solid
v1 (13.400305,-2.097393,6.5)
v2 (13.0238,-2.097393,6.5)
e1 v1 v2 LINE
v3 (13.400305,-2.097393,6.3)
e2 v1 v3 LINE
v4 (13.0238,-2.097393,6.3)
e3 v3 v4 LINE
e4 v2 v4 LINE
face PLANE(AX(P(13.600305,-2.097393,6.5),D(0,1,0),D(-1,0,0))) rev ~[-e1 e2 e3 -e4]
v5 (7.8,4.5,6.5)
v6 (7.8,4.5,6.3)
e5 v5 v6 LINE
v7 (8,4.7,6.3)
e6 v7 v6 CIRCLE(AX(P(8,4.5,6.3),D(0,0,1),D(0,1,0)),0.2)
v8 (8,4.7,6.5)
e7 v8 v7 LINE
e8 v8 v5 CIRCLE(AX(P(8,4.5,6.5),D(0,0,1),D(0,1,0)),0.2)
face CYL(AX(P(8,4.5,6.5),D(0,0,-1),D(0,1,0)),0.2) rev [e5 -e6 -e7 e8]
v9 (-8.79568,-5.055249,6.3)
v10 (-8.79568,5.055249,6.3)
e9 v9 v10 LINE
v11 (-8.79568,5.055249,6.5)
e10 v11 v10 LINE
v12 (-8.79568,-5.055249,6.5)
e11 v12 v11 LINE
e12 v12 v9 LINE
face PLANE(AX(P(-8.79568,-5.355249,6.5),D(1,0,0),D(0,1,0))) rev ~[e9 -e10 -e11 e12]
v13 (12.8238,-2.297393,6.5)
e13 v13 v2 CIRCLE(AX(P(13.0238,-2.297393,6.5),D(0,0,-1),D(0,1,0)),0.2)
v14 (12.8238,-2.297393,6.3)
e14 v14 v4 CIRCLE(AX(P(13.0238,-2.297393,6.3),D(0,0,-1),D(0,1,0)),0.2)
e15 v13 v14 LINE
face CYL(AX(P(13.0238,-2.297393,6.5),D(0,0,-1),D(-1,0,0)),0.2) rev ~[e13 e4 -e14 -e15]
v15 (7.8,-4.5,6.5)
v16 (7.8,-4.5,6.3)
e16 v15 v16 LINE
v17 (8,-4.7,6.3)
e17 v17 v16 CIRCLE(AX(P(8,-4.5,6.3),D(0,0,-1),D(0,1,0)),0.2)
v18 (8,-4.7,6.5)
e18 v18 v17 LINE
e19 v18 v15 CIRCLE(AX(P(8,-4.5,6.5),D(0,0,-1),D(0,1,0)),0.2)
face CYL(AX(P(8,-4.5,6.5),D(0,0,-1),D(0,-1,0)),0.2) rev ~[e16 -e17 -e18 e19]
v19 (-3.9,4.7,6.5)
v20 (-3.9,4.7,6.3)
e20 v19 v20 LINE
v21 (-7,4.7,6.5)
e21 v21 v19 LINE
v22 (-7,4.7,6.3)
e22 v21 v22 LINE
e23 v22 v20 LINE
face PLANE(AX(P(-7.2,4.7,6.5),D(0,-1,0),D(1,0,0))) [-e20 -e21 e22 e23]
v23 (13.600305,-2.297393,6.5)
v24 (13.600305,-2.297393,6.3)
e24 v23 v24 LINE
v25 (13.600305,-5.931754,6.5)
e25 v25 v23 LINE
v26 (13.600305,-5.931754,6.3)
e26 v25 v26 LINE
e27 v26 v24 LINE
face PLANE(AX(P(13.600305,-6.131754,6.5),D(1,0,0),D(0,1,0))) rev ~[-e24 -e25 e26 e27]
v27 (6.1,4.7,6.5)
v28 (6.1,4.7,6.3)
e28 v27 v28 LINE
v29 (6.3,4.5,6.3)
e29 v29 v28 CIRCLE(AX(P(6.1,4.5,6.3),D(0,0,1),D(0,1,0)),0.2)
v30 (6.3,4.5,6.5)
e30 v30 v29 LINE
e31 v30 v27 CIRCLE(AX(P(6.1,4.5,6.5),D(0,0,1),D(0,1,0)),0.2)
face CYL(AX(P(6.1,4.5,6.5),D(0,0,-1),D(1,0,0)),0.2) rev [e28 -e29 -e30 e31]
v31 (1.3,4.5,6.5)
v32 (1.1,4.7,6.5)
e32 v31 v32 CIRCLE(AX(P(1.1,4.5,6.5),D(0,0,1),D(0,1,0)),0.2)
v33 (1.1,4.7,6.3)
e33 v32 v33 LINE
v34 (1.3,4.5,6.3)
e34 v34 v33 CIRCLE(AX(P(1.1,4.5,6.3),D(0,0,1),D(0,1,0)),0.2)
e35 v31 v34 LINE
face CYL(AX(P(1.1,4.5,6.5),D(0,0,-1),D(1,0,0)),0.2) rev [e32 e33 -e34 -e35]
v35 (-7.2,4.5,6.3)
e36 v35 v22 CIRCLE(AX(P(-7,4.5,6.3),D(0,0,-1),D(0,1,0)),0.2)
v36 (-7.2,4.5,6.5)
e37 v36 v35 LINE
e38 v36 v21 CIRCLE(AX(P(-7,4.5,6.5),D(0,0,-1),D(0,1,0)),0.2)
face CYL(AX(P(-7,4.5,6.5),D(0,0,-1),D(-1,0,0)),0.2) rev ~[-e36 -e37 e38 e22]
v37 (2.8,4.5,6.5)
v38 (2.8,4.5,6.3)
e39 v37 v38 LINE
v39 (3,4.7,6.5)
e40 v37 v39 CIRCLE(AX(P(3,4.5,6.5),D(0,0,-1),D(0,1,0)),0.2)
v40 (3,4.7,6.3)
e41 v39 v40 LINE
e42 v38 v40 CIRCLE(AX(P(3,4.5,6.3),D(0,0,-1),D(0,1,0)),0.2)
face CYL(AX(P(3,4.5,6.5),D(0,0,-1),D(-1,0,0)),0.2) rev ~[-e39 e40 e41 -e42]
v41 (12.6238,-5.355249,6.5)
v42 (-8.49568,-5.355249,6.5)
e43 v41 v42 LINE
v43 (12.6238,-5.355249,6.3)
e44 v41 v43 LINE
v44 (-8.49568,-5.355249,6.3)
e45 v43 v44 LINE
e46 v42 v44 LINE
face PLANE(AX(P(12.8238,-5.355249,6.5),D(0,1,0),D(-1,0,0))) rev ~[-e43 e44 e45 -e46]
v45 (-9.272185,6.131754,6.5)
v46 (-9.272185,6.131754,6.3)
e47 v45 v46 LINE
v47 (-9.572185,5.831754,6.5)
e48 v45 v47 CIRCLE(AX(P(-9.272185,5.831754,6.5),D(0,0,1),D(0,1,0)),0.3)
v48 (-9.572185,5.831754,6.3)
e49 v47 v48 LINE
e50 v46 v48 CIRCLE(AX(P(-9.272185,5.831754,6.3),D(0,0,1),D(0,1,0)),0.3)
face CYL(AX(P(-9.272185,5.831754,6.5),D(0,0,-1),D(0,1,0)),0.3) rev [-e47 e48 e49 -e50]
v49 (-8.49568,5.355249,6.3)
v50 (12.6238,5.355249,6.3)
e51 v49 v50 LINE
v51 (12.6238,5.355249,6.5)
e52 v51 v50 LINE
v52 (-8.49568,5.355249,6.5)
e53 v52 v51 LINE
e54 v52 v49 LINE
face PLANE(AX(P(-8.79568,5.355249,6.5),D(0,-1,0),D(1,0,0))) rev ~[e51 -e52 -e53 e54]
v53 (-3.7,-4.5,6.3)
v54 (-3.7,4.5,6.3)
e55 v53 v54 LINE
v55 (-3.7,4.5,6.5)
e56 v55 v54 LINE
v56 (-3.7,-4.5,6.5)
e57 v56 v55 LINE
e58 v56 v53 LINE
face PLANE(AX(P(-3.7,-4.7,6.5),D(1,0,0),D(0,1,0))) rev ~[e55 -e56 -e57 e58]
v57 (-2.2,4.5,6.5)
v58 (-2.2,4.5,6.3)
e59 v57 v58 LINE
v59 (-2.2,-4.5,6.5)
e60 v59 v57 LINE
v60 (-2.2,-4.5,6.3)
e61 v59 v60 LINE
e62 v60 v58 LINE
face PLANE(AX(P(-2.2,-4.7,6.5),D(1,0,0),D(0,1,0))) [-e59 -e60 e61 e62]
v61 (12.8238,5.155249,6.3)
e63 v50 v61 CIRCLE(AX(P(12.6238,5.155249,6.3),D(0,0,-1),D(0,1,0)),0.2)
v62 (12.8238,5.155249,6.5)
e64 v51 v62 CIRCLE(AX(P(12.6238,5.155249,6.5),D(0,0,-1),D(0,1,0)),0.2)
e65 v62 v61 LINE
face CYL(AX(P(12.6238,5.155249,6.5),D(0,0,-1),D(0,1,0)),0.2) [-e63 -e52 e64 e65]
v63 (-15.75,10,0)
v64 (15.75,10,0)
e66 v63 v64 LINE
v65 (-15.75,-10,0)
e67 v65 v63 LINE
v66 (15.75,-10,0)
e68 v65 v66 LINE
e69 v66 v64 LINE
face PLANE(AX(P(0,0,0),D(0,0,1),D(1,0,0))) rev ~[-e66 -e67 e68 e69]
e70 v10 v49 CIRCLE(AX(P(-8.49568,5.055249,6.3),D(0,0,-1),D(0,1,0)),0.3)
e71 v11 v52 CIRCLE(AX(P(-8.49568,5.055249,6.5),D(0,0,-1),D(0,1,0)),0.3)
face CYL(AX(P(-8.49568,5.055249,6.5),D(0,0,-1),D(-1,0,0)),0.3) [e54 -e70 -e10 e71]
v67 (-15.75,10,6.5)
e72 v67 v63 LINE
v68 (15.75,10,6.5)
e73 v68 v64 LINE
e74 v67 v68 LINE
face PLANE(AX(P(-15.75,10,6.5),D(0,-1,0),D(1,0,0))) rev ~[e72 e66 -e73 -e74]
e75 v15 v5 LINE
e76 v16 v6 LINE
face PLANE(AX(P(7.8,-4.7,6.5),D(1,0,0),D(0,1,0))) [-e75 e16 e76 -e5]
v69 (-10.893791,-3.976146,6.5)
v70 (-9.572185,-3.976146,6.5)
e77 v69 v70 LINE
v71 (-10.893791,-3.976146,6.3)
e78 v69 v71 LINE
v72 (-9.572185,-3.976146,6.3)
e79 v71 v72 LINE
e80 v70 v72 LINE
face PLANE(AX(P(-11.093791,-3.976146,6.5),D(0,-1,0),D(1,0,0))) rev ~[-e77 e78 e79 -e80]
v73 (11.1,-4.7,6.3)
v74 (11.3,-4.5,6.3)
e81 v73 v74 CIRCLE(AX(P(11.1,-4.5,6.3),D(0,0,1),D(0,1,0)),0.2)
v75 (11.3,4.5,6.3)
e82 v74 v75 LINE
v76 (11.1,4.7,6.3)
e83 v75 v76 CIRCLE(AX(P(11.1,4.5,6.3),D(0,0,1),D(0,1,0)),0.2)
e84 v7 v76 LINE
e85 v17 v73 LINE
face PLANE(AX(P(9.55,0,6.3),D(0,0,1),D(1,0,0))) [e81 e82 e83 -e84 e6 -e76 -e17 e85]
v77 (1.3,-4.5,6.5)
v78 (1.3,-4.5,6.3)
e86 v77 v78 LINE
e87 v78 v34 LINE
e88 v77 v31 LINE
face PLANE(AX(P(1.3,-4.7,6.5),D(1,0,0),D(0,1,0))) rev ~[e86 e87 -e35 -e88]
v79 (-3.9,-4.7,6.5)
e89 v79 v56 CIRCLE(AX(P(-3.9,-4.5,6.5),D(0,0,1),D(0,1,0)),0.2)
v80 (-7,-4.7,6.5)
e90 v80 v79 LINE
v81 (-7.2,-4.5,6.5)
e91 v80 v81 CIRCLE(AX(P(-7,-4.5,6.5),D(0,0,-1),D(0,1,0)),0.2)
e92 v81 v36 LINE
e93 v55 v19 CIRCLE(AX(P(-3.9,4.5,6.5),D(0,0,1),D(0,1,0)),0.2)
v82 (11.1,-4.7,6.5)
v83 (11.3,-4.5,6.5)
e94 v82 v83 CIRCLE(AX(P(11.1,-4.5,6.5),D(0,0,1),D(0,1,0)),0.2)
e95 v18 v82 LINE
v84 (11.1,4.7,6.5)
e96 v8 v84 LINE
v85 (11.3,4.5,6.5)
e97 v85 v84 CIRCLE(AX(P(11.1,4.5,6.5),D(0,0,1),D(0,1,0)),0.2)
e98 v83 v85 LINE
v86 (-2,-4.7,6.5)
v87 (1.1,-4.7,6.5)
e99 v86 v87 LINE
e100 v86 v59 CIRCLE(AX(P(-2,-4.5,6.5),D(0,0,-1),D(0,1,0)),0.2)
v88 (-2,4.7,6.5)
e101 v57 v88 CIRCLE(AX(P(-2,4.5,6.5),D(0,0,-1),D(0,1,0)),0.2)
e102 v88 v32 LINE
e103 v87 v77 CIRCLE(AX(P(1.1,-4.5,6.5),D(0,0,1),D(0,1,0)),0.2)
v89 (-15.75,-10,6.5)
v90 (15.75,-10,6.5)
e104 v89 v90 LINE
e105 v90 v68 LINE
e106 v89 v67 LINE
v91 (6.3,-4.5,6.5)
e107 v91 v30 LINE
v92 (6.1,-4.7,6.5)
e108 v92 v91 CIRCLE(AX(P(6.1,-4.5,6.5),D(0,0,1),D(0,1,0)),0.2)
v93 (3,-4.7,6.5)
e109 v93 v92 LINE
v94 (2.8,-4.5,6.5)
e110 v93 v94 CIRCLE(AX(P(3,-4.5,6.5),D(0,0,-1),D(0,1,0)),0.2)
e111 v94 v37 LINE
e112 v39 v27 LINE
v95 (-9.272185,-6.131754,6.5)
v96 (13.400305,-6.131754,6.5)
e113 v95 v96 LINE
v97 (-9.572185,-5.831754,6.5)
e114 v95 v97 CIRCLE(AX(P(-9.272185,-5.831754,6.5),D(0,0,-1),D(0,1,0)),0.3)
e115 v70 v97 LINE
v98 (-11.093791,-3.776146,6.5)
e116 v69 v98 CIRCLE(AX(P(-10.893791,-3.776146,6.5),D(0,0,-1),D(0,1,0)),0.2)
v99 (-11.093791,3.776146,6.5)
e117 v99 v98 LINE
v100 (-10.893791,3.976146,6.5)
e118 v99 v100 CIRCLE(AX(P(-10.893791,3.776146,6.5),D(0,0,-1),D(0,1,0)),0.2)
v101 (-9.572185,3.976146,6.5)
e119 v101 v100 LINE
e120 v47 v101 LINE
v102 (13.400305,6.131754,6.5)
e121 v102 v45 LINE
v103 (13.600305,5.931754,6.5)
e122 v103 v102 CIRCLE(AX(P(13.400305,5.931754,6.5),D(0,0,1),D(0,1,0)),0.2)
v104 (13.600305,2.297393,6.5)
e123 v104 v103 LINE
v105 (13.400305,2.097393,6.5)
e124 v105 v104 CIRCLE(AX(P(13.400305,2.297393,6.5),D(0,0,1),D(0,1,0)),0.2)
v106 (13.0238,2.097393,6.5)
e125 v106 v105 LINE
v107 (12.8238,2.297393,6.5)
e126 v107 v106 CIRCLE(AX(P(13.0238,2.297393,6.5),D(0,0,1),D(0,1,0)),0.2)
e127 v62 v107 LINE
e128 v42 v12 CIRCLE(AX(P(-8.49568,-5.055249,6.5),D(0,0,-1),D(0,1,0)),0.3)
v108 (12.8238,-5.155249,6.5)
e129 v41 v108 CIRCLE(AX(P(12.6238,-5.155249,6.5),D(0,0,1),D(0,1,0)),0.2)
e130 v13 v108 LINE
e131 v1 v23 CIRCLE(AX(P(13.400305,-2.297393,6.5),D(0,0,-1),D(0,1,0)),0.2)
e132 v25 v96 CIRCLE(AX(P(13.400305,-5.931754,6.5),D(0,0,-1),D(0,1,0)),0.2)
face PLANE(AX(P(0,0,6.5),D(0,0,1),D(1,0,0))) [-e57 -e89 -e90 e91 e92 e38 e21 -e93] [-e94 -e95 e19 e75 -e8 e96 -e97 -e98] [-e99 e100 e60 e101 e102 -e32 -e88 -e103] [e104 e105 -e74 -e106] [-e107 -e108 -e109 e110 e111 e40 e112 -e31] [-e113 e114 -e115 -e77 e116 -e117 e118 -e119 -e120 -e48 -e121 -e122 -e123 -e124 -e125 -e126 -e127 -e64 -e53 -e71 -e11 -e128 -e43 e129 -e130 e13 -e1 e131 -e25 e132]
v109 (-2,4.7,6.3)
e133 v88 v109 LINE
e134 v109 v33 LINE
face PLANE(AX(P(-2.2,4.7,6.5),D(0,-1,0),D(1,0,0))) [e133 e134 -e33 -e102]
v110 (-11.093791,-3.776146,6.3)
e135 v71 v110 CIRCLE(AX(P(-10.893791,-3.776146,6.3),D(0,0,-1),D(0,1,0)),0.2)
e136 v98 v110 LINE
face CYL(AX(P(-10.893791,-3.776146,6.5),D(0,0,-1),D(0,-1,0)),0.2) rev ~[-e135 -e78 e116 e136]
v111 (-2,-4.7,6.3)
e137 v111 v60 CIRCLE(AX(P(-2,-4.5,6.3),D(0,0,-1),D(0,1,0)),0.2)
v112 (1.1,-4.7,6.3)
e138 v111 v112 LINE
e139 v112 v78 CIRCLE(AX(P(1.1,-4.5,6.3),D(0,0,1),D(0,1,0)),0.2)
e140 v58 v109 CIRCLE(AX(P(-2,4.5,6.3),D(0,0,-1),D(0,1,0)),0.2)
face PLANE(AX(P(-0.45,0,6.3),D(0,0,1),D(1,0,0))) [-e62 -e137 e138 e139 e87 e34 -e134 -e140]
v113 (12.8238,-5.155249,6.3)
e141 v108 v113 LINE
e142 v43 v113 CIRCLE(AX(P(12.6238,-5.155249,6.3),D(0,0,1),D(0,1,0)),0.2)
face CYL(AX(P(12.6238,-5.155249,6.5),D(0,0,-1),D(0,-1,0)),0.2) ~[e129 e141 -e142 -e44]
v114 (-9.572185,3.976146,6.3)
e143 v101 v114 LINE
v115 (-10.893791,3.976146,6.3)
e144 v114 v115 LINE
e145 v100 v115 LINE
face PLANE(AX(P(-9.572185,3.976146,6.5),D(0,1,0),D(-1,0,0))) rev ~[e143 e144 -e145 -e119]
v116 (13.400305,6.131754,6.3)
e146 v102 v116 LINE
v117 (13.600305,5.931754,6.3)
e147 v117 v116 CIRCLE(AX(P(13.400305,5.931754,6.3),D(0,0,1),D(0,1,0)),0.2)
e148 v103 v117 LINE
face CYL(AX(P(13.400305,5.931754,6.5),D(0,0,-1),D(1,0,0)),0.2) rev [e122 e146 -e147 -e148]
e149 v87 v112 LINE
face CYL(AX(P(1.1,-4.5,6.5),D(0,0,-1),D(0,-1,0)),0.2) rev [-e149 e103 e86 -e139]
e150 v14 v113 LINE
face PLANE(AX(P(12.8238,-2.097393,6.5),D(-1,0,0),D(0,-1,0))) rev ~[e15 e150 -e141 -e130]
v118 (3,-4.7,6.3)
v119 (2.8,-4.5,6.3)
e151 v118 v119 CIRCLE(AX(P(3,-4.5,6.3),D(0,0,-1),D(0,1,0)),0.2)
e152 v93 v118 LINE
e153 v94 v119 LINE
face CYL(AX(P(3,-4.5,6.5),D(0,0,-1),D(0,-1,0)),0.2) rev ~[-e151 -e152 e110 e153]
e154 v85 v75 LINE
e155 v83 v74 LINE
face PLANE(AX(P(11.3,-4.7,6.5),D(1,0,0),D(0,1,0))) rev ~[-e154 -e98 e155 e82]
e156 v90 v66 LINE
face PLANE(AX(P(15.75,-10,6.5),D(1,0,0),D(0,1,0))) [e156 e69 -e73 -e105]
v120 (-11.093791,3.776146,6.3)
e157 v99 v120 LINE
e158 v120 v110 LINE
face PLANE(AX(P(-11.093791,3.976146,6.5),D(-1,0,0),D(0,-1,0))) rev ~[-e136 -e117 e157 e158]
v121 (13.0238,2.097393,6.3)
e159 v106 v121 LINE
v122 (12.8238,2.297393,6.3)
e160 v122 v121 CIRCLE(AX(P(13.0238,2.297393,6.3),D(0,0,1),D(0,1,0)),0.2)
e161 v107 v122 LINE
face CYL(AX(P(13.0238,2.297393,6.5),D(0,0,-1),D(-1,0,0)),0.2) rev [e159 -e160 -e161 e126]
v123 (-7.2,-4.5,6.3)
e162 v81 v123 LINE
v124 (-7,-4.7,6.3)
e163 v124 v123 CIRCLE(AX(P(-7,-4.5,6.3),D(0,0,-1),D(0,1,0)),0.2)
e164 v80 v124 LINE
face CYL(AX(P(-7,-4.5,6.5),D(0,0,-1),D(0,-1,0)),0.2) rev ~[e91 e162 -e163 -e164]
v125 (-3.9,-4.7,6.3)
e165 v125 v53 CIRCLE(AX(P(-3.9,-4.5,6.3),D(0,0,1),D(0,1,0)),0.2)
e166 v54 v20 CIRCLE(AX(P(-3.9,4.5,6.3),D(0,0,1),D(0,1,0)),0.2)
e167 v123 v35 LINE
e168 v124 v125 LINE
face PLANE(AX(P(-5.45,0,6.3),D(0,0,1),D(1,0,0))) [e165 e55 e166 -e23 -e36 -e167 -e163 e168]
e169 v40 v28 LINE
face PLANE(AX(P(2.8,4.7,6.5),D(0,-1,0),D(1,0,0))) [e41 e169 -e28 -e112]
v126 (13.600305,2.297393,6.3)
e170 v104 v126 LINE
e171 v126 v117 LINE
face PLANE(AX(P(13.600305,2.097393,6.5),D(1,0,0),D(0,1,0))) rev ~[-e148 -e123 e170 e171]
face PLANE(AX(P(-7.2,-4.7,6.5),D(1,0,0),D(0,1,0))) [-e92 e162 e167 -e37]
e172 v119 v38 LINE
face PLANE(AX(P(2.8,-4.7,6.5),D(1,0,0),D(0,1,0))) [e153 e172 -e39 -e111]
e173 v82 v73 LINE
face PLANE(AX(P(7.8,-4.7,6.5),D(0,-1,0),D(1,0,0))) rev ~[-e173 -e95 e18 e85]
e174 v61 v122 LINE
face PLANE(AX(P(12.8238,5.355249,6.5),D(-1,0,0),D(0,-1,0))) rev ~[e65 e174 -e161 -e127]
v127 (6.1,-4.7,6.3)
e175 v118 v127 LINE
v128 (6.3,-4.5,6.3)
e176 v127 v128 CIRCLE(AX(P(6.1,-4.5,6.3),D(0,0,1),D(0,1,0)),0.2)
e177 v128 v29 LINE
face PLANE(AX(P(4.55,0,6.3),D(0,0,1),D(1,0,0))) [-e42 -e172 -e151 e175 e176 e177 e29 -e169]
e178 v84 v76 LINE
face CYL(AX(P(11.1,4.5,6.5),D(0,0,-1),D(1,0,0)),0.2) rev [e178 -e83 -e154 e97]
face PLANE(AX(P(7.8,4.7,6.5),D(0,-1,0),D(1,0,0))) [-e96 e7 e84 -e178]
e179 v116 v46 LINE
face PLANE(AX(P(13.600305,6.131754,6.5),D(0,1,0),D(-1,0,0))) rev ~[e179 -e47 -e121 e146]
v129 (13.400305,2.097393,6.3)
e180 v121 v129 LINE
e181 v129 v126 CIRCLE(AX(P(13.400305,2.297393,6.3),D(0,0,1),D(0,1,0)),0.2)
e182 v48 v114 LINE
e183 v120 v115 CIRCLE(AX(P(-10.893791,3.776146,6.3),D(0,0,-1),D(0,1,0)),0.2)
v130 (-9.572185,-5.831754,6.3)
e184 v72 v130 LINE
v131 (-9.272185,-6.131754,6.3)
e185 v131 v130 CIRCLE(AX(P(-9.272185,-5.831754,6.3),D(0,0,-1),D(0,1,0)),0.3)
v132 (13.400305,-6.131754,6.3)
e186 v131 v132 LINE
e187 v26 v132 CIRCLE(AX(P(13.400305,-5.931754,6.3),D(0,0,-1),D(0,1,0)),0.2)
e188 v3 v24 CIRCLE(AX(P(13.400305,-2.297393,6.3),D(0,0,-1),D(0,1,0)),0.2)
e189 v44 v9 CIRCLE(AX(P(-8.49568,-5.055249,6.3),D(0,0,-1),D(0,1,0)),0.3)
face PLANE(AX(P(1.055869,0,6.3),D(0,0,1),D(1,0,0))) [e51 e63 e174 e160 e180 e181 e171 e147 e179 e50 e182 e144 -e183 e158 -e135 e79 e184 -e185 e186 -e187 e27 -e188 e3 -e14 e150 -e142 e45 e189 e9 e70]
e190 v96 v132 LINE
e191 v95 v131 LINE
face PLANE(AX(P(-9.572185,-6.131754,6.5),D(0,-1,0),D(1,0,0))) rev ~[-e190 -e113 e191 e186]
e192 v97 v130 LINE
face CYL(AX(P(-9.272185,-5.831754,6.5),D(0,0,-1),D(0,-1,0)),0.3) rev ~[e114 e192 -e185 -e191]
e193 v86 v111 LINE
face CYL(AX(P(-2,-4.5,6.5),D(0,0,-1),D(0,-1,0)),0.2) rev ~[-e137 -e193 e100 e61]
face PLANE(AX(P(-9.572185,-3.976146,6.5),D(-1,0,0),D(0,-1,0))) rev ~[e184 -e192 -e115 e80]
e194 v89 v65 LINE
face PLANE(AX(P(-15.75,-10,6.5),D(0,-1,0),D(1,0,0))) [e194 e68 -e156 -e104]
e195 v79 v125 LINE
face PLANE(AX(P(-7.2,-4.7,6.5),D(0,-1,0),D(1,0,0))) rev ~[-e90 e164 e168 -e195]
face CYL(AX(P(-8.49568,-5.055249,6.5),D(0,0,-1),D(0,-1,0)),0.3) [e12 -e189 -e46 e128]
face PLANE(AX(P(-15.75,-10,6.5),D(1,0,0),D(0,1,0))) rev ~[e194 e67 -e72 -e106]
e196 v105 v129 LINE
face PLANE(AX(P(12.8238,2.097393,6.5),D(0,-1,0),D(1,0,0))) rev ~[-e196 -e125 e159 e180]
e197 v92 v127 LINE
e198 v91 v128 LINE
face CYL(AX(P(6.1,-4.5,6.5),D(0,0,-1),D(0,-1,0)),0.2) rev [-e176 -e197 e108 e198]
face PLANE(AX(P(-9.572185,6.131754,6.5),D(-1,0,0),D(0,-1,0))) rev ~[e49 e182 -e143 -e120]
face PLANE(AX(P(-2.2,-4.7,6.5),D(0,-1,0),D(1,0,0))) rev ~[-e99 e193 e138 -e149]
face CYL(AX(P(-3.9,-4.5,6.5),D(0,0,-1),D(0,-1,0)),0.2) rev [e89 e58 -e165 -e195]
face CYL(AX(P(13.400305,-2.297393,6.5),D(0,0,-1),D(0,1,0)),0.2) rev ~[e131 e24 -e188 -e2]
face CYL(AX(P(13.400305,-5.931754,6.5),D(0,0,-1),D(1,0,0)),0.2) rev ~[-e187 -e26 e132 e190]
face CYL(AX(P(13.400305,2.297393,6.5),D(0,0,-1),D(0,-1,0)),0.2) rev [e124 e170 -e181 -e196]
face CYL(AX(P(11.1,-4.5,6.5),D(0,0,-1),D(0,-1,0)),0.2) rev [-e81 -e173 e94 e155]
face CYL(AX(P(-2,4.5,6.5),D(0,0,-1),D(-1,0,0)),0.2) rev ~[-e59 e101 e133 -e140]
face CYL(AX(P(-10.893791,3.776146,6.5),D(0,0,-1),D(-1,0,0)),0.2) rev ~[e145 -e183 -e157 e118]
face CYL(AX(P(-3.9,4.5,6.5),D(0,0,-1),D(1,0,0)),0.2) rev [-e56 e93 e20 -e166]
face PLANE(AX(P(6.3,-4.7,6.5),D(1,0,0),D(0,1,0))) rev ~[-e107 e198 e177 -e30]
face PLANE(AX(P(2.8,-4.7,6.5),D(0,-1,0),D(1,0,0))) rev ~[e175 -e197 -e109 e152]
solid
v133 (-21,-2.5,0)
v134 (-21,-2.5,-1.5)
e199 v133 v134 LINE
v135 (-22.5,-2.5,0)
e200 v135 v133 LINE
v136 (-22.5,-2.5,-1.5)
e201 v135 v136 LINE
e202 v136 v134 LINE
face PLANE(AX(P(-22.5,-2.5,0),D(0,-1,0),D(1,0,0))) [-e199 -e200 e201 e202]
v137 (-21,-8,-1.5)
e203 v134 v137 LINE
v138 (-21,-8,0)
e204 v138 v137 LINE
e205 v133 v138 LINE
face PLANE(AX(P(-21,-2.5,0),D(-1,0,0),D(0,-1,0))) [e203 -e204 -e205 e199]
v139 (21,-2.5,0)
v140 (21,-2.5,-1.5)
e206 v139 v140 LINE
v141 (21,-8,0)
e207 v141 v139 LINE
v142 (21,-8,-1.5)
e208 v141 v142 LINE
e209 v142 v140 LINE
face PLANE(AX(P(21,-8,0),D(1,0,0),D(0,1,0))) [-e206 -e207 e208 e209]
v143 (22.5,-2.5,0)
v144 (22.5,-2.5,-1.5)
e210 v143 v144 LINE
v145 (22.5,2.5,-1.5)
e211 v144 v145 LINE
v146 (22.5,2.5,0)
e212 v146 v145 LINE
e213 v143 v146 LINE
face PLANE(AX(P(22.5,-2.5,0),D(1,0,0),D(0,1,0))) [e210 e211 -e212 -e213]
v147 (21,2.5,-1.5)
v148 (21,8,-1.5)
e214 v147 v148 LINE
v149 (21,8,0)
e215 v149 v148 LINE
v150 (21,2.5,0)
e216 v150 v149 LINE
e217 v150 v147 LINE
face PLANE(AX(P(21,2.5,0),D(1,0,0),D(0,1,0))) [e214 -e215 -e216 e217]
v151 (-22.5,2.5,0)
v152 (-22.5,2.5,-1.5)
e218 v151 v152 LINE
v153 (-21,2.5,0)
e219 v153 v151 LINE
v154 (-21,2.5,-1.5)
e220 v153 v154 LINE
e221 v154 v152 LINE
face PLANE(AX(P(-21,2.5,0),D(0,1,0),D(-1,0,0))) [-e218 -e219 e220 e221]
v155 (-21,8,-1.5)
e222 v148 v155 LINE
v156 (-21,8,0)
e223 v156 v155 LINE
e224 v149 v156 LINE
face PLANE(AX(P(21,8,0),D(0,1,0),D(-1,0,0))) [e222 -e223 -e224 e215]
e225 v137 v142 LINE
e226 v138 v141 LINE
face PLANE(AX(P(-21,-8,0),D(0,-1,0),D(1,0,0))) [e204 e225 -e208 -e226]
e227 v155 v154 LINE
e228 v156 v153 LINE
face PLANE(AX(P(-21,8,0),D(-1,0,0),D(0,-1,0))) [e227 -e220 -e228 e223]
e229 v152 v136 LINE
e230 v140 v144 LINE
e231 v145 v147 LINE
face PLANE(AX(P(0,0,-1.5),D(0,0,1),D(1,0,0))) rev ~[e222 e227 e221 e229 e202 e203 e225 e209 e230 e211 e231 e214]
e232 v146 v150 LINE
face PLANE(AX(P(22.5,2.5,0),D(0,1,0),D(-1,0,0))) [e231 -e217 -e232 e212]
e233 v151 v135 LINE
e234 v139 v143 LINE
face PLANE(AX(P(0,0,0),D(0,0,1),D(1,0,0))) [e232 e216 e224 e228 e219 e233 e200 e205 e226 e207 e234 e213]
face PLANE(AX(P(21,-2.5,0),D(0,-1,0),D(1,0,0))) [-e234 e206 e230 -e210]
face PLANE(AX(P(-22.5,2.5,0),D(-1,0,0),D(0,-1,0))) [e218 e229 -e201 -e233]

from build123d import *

# Parameters (mm, degrees)
BOSS_EXTRUDE2_DEPTH = 1.5
SKETCH12_W          = 31.5
SKETCH12_H          = 20
BOSS_EXTRUDE3_DEPTH = 6.5
CUT_EXTRUDE6_DEPTH  = 0.2
SKETCH18_W          = 3.5
SKETCH18_H          = 9.4
CUT_EXTRUDE7_DEPTH  = 0.2
SKETCH19_W          = 3.5
SKETCH19_H          = 9.4
CUT_EXTRUDE8_DEPTH  = 0.2
SKETCH24_W          = 3.5
SKETCH24_H          = 9.4
CUT_EXTRUDE9_DEPTH  = 0.2
SKETCH25_W          = 3.5
SKETCH25_H          = 9.4
CUT_EXTRUDE10_DEPTH = 0.2
FILLET3_R           = 0.2
FILLET4_R           = 0.3


with BuildPart() as part:
    # Sketch8 → Boss-Extrude2 (new body)
    with BuildSketch(Plane.XY):
        Polygon((-22.5, -2.5), (-21, -2.5), (-21, -8), (21, -8), (21, -2.5), (22.5, -2.5), (22.5, 2.5), (21, 2.5), (21, 8), (-21, 8), (-21, 2.5), (-22.5, 2.5), align=None)
    extrude(amount=-BOSS_EXTRUDE2_DEPTH)


with BuildPart() as body_2:
    # Sketch12 → Boss-Extrude3 (new body)
    with BuildSketch(Plane.XY.offset(6.5)):
        Rectangle(SKETCH12_W, SKETCH12_H)
    extrude(amount=-BOSS_EXTRUDE3_DEPTH)

    # Sketch13 → Cut-Extrude6 (cut)
    with BuildSketch(Plane.XY.offset(6.5)):
        Polygon((12.823799914, -5.355248942), (-8.795680458, -5.355248942), (-8.795680458, 5.355248942), (12.823799914, 5.355248942), (12.823799914, 2.097392841), (13.600304882, 2.097392841), (13.600304882, 6.131753909), (-9.572185425, 6.131753909), (-9.572185425, 3.976145895), (-11.093791082, 3.976145895), (-11.093791082, -3.976145895), (-9.572185425, -3.976145895), (-9.572185425, -6.131753909), (13.600304882, -6.131753909), (13.600304882, -2.097392841), (12.823799914, -2.097392841), align=None)
    extrude(amount=-CUT_EXTRUDE6_DEPTH, mode=Mode.SUBTRACT)

    # Sketch18 → Cut-Extrude7 (cut)
    with BuildSketch(Plane.XY.offset(6.5)):
        with Locations((-0.45, 0)):
            Rectangle(SKETCH18_W, SKETCH18_H)
    extrude(amount=-CUT_EXTRUDE7_DEPTH, mode=Mode.SUBTRACT)

    # Sketch19 → Cut-Extrude8 (cut)
    with BuildSketch(Plane.XY.offset(6.5)):
        with Locations((-5.45, 0)):
            Rectangle(SKETCH19_W, SKETCH19_H)
    extrude(amount=-CUT_EXTRUDE8_DEPTH, mode=Mode.SUBTRACT)

    # Sketch24 → Cut-Extrude9 (cut)
    with BuildSketch(Plane.XY.offset(6.5)):
        with Locations((4.55, 0)):
            Rectangle(SKETCH24_W, SKETCH24_H)
    extrude(amount=-CUT_EXTRUDE9_DEPTH, mode=Mode.SUBTRACT)

    # Sketch25 → Cut-Extrude10 (cut)
    with BuildSketch(Plane.XY.offset(6.5)):
        with Locations((9.55, 0)):
            Rectangle(SKETCH25_W, SKETCH25_H)
    extrude(amount=-CUT_EXTRUDE10_DEPTH, mode=Mode.SUBTRACT)

    # Fillet3
    fillet3_edges = [body_2.edges().sort_by_distance(p)[0] for p in [
        (7.8, -4.7, 6.4),
        (7.8, 4.7, 6.4),
        (11.3, 4.7, 6.4),
        (11.3, -4.7, 6.4),
        (12.823799914, -5.355248942, 6.4),
        (12.823799914, -2.097392841, 6.4),
        (13.600304882, -2.097392841, 6.4),
        (13.600304882, -6.131753909, 6.4),
        (-11.093791082, -3.976145895, 6.4),
        (-11.093791082, 3.976145895, 6.4),
        (13.600304882, 6.131753909, 6.4),
        (13.600304882, 2.097392841, 6.4),
        (12.823799914, 2.097392841, 6.4),
        (12.823799914, 5.355248942, 6.4),
        (-2.2, -4.7, 6.4),
        (-2.2, 4.7, 6.4),
        (1.3, 4.7, 6.4),
        (1.3, -4.7, 6.4),
        (-7.2, -4.7, 6.4),
        (-7.2, 4.7, 6.4),
        (-3.7, 4.7, 6.4),
        (-3.7, -4.7, 6.4),
        (2.8, -4.7, 6.4),
        (2.8, 4.7, 6.4),
        (6.3, 4.7, 6.4),
        (6.3, -4.7, 6.4),
    ]]
    fillet(fillet3_edges, radius=FILLET3_R)

    # Fillet4
    fillet4_edges = [body_2.edges().sort_by_distance(p)[0] for p in [
        (-9.572185425, -6.131753909, 6.4),
        (-9.572185425, 6.131753909, 6.4),
        (-8.795680458, 5.355248942, 6.4),
        (-8.795680458, -5.355248942, 6.4),
    ]]
    fillet(fillet4_edges, radius=FILLET4_R)


solid = Compound([part.part, body_2.part])
